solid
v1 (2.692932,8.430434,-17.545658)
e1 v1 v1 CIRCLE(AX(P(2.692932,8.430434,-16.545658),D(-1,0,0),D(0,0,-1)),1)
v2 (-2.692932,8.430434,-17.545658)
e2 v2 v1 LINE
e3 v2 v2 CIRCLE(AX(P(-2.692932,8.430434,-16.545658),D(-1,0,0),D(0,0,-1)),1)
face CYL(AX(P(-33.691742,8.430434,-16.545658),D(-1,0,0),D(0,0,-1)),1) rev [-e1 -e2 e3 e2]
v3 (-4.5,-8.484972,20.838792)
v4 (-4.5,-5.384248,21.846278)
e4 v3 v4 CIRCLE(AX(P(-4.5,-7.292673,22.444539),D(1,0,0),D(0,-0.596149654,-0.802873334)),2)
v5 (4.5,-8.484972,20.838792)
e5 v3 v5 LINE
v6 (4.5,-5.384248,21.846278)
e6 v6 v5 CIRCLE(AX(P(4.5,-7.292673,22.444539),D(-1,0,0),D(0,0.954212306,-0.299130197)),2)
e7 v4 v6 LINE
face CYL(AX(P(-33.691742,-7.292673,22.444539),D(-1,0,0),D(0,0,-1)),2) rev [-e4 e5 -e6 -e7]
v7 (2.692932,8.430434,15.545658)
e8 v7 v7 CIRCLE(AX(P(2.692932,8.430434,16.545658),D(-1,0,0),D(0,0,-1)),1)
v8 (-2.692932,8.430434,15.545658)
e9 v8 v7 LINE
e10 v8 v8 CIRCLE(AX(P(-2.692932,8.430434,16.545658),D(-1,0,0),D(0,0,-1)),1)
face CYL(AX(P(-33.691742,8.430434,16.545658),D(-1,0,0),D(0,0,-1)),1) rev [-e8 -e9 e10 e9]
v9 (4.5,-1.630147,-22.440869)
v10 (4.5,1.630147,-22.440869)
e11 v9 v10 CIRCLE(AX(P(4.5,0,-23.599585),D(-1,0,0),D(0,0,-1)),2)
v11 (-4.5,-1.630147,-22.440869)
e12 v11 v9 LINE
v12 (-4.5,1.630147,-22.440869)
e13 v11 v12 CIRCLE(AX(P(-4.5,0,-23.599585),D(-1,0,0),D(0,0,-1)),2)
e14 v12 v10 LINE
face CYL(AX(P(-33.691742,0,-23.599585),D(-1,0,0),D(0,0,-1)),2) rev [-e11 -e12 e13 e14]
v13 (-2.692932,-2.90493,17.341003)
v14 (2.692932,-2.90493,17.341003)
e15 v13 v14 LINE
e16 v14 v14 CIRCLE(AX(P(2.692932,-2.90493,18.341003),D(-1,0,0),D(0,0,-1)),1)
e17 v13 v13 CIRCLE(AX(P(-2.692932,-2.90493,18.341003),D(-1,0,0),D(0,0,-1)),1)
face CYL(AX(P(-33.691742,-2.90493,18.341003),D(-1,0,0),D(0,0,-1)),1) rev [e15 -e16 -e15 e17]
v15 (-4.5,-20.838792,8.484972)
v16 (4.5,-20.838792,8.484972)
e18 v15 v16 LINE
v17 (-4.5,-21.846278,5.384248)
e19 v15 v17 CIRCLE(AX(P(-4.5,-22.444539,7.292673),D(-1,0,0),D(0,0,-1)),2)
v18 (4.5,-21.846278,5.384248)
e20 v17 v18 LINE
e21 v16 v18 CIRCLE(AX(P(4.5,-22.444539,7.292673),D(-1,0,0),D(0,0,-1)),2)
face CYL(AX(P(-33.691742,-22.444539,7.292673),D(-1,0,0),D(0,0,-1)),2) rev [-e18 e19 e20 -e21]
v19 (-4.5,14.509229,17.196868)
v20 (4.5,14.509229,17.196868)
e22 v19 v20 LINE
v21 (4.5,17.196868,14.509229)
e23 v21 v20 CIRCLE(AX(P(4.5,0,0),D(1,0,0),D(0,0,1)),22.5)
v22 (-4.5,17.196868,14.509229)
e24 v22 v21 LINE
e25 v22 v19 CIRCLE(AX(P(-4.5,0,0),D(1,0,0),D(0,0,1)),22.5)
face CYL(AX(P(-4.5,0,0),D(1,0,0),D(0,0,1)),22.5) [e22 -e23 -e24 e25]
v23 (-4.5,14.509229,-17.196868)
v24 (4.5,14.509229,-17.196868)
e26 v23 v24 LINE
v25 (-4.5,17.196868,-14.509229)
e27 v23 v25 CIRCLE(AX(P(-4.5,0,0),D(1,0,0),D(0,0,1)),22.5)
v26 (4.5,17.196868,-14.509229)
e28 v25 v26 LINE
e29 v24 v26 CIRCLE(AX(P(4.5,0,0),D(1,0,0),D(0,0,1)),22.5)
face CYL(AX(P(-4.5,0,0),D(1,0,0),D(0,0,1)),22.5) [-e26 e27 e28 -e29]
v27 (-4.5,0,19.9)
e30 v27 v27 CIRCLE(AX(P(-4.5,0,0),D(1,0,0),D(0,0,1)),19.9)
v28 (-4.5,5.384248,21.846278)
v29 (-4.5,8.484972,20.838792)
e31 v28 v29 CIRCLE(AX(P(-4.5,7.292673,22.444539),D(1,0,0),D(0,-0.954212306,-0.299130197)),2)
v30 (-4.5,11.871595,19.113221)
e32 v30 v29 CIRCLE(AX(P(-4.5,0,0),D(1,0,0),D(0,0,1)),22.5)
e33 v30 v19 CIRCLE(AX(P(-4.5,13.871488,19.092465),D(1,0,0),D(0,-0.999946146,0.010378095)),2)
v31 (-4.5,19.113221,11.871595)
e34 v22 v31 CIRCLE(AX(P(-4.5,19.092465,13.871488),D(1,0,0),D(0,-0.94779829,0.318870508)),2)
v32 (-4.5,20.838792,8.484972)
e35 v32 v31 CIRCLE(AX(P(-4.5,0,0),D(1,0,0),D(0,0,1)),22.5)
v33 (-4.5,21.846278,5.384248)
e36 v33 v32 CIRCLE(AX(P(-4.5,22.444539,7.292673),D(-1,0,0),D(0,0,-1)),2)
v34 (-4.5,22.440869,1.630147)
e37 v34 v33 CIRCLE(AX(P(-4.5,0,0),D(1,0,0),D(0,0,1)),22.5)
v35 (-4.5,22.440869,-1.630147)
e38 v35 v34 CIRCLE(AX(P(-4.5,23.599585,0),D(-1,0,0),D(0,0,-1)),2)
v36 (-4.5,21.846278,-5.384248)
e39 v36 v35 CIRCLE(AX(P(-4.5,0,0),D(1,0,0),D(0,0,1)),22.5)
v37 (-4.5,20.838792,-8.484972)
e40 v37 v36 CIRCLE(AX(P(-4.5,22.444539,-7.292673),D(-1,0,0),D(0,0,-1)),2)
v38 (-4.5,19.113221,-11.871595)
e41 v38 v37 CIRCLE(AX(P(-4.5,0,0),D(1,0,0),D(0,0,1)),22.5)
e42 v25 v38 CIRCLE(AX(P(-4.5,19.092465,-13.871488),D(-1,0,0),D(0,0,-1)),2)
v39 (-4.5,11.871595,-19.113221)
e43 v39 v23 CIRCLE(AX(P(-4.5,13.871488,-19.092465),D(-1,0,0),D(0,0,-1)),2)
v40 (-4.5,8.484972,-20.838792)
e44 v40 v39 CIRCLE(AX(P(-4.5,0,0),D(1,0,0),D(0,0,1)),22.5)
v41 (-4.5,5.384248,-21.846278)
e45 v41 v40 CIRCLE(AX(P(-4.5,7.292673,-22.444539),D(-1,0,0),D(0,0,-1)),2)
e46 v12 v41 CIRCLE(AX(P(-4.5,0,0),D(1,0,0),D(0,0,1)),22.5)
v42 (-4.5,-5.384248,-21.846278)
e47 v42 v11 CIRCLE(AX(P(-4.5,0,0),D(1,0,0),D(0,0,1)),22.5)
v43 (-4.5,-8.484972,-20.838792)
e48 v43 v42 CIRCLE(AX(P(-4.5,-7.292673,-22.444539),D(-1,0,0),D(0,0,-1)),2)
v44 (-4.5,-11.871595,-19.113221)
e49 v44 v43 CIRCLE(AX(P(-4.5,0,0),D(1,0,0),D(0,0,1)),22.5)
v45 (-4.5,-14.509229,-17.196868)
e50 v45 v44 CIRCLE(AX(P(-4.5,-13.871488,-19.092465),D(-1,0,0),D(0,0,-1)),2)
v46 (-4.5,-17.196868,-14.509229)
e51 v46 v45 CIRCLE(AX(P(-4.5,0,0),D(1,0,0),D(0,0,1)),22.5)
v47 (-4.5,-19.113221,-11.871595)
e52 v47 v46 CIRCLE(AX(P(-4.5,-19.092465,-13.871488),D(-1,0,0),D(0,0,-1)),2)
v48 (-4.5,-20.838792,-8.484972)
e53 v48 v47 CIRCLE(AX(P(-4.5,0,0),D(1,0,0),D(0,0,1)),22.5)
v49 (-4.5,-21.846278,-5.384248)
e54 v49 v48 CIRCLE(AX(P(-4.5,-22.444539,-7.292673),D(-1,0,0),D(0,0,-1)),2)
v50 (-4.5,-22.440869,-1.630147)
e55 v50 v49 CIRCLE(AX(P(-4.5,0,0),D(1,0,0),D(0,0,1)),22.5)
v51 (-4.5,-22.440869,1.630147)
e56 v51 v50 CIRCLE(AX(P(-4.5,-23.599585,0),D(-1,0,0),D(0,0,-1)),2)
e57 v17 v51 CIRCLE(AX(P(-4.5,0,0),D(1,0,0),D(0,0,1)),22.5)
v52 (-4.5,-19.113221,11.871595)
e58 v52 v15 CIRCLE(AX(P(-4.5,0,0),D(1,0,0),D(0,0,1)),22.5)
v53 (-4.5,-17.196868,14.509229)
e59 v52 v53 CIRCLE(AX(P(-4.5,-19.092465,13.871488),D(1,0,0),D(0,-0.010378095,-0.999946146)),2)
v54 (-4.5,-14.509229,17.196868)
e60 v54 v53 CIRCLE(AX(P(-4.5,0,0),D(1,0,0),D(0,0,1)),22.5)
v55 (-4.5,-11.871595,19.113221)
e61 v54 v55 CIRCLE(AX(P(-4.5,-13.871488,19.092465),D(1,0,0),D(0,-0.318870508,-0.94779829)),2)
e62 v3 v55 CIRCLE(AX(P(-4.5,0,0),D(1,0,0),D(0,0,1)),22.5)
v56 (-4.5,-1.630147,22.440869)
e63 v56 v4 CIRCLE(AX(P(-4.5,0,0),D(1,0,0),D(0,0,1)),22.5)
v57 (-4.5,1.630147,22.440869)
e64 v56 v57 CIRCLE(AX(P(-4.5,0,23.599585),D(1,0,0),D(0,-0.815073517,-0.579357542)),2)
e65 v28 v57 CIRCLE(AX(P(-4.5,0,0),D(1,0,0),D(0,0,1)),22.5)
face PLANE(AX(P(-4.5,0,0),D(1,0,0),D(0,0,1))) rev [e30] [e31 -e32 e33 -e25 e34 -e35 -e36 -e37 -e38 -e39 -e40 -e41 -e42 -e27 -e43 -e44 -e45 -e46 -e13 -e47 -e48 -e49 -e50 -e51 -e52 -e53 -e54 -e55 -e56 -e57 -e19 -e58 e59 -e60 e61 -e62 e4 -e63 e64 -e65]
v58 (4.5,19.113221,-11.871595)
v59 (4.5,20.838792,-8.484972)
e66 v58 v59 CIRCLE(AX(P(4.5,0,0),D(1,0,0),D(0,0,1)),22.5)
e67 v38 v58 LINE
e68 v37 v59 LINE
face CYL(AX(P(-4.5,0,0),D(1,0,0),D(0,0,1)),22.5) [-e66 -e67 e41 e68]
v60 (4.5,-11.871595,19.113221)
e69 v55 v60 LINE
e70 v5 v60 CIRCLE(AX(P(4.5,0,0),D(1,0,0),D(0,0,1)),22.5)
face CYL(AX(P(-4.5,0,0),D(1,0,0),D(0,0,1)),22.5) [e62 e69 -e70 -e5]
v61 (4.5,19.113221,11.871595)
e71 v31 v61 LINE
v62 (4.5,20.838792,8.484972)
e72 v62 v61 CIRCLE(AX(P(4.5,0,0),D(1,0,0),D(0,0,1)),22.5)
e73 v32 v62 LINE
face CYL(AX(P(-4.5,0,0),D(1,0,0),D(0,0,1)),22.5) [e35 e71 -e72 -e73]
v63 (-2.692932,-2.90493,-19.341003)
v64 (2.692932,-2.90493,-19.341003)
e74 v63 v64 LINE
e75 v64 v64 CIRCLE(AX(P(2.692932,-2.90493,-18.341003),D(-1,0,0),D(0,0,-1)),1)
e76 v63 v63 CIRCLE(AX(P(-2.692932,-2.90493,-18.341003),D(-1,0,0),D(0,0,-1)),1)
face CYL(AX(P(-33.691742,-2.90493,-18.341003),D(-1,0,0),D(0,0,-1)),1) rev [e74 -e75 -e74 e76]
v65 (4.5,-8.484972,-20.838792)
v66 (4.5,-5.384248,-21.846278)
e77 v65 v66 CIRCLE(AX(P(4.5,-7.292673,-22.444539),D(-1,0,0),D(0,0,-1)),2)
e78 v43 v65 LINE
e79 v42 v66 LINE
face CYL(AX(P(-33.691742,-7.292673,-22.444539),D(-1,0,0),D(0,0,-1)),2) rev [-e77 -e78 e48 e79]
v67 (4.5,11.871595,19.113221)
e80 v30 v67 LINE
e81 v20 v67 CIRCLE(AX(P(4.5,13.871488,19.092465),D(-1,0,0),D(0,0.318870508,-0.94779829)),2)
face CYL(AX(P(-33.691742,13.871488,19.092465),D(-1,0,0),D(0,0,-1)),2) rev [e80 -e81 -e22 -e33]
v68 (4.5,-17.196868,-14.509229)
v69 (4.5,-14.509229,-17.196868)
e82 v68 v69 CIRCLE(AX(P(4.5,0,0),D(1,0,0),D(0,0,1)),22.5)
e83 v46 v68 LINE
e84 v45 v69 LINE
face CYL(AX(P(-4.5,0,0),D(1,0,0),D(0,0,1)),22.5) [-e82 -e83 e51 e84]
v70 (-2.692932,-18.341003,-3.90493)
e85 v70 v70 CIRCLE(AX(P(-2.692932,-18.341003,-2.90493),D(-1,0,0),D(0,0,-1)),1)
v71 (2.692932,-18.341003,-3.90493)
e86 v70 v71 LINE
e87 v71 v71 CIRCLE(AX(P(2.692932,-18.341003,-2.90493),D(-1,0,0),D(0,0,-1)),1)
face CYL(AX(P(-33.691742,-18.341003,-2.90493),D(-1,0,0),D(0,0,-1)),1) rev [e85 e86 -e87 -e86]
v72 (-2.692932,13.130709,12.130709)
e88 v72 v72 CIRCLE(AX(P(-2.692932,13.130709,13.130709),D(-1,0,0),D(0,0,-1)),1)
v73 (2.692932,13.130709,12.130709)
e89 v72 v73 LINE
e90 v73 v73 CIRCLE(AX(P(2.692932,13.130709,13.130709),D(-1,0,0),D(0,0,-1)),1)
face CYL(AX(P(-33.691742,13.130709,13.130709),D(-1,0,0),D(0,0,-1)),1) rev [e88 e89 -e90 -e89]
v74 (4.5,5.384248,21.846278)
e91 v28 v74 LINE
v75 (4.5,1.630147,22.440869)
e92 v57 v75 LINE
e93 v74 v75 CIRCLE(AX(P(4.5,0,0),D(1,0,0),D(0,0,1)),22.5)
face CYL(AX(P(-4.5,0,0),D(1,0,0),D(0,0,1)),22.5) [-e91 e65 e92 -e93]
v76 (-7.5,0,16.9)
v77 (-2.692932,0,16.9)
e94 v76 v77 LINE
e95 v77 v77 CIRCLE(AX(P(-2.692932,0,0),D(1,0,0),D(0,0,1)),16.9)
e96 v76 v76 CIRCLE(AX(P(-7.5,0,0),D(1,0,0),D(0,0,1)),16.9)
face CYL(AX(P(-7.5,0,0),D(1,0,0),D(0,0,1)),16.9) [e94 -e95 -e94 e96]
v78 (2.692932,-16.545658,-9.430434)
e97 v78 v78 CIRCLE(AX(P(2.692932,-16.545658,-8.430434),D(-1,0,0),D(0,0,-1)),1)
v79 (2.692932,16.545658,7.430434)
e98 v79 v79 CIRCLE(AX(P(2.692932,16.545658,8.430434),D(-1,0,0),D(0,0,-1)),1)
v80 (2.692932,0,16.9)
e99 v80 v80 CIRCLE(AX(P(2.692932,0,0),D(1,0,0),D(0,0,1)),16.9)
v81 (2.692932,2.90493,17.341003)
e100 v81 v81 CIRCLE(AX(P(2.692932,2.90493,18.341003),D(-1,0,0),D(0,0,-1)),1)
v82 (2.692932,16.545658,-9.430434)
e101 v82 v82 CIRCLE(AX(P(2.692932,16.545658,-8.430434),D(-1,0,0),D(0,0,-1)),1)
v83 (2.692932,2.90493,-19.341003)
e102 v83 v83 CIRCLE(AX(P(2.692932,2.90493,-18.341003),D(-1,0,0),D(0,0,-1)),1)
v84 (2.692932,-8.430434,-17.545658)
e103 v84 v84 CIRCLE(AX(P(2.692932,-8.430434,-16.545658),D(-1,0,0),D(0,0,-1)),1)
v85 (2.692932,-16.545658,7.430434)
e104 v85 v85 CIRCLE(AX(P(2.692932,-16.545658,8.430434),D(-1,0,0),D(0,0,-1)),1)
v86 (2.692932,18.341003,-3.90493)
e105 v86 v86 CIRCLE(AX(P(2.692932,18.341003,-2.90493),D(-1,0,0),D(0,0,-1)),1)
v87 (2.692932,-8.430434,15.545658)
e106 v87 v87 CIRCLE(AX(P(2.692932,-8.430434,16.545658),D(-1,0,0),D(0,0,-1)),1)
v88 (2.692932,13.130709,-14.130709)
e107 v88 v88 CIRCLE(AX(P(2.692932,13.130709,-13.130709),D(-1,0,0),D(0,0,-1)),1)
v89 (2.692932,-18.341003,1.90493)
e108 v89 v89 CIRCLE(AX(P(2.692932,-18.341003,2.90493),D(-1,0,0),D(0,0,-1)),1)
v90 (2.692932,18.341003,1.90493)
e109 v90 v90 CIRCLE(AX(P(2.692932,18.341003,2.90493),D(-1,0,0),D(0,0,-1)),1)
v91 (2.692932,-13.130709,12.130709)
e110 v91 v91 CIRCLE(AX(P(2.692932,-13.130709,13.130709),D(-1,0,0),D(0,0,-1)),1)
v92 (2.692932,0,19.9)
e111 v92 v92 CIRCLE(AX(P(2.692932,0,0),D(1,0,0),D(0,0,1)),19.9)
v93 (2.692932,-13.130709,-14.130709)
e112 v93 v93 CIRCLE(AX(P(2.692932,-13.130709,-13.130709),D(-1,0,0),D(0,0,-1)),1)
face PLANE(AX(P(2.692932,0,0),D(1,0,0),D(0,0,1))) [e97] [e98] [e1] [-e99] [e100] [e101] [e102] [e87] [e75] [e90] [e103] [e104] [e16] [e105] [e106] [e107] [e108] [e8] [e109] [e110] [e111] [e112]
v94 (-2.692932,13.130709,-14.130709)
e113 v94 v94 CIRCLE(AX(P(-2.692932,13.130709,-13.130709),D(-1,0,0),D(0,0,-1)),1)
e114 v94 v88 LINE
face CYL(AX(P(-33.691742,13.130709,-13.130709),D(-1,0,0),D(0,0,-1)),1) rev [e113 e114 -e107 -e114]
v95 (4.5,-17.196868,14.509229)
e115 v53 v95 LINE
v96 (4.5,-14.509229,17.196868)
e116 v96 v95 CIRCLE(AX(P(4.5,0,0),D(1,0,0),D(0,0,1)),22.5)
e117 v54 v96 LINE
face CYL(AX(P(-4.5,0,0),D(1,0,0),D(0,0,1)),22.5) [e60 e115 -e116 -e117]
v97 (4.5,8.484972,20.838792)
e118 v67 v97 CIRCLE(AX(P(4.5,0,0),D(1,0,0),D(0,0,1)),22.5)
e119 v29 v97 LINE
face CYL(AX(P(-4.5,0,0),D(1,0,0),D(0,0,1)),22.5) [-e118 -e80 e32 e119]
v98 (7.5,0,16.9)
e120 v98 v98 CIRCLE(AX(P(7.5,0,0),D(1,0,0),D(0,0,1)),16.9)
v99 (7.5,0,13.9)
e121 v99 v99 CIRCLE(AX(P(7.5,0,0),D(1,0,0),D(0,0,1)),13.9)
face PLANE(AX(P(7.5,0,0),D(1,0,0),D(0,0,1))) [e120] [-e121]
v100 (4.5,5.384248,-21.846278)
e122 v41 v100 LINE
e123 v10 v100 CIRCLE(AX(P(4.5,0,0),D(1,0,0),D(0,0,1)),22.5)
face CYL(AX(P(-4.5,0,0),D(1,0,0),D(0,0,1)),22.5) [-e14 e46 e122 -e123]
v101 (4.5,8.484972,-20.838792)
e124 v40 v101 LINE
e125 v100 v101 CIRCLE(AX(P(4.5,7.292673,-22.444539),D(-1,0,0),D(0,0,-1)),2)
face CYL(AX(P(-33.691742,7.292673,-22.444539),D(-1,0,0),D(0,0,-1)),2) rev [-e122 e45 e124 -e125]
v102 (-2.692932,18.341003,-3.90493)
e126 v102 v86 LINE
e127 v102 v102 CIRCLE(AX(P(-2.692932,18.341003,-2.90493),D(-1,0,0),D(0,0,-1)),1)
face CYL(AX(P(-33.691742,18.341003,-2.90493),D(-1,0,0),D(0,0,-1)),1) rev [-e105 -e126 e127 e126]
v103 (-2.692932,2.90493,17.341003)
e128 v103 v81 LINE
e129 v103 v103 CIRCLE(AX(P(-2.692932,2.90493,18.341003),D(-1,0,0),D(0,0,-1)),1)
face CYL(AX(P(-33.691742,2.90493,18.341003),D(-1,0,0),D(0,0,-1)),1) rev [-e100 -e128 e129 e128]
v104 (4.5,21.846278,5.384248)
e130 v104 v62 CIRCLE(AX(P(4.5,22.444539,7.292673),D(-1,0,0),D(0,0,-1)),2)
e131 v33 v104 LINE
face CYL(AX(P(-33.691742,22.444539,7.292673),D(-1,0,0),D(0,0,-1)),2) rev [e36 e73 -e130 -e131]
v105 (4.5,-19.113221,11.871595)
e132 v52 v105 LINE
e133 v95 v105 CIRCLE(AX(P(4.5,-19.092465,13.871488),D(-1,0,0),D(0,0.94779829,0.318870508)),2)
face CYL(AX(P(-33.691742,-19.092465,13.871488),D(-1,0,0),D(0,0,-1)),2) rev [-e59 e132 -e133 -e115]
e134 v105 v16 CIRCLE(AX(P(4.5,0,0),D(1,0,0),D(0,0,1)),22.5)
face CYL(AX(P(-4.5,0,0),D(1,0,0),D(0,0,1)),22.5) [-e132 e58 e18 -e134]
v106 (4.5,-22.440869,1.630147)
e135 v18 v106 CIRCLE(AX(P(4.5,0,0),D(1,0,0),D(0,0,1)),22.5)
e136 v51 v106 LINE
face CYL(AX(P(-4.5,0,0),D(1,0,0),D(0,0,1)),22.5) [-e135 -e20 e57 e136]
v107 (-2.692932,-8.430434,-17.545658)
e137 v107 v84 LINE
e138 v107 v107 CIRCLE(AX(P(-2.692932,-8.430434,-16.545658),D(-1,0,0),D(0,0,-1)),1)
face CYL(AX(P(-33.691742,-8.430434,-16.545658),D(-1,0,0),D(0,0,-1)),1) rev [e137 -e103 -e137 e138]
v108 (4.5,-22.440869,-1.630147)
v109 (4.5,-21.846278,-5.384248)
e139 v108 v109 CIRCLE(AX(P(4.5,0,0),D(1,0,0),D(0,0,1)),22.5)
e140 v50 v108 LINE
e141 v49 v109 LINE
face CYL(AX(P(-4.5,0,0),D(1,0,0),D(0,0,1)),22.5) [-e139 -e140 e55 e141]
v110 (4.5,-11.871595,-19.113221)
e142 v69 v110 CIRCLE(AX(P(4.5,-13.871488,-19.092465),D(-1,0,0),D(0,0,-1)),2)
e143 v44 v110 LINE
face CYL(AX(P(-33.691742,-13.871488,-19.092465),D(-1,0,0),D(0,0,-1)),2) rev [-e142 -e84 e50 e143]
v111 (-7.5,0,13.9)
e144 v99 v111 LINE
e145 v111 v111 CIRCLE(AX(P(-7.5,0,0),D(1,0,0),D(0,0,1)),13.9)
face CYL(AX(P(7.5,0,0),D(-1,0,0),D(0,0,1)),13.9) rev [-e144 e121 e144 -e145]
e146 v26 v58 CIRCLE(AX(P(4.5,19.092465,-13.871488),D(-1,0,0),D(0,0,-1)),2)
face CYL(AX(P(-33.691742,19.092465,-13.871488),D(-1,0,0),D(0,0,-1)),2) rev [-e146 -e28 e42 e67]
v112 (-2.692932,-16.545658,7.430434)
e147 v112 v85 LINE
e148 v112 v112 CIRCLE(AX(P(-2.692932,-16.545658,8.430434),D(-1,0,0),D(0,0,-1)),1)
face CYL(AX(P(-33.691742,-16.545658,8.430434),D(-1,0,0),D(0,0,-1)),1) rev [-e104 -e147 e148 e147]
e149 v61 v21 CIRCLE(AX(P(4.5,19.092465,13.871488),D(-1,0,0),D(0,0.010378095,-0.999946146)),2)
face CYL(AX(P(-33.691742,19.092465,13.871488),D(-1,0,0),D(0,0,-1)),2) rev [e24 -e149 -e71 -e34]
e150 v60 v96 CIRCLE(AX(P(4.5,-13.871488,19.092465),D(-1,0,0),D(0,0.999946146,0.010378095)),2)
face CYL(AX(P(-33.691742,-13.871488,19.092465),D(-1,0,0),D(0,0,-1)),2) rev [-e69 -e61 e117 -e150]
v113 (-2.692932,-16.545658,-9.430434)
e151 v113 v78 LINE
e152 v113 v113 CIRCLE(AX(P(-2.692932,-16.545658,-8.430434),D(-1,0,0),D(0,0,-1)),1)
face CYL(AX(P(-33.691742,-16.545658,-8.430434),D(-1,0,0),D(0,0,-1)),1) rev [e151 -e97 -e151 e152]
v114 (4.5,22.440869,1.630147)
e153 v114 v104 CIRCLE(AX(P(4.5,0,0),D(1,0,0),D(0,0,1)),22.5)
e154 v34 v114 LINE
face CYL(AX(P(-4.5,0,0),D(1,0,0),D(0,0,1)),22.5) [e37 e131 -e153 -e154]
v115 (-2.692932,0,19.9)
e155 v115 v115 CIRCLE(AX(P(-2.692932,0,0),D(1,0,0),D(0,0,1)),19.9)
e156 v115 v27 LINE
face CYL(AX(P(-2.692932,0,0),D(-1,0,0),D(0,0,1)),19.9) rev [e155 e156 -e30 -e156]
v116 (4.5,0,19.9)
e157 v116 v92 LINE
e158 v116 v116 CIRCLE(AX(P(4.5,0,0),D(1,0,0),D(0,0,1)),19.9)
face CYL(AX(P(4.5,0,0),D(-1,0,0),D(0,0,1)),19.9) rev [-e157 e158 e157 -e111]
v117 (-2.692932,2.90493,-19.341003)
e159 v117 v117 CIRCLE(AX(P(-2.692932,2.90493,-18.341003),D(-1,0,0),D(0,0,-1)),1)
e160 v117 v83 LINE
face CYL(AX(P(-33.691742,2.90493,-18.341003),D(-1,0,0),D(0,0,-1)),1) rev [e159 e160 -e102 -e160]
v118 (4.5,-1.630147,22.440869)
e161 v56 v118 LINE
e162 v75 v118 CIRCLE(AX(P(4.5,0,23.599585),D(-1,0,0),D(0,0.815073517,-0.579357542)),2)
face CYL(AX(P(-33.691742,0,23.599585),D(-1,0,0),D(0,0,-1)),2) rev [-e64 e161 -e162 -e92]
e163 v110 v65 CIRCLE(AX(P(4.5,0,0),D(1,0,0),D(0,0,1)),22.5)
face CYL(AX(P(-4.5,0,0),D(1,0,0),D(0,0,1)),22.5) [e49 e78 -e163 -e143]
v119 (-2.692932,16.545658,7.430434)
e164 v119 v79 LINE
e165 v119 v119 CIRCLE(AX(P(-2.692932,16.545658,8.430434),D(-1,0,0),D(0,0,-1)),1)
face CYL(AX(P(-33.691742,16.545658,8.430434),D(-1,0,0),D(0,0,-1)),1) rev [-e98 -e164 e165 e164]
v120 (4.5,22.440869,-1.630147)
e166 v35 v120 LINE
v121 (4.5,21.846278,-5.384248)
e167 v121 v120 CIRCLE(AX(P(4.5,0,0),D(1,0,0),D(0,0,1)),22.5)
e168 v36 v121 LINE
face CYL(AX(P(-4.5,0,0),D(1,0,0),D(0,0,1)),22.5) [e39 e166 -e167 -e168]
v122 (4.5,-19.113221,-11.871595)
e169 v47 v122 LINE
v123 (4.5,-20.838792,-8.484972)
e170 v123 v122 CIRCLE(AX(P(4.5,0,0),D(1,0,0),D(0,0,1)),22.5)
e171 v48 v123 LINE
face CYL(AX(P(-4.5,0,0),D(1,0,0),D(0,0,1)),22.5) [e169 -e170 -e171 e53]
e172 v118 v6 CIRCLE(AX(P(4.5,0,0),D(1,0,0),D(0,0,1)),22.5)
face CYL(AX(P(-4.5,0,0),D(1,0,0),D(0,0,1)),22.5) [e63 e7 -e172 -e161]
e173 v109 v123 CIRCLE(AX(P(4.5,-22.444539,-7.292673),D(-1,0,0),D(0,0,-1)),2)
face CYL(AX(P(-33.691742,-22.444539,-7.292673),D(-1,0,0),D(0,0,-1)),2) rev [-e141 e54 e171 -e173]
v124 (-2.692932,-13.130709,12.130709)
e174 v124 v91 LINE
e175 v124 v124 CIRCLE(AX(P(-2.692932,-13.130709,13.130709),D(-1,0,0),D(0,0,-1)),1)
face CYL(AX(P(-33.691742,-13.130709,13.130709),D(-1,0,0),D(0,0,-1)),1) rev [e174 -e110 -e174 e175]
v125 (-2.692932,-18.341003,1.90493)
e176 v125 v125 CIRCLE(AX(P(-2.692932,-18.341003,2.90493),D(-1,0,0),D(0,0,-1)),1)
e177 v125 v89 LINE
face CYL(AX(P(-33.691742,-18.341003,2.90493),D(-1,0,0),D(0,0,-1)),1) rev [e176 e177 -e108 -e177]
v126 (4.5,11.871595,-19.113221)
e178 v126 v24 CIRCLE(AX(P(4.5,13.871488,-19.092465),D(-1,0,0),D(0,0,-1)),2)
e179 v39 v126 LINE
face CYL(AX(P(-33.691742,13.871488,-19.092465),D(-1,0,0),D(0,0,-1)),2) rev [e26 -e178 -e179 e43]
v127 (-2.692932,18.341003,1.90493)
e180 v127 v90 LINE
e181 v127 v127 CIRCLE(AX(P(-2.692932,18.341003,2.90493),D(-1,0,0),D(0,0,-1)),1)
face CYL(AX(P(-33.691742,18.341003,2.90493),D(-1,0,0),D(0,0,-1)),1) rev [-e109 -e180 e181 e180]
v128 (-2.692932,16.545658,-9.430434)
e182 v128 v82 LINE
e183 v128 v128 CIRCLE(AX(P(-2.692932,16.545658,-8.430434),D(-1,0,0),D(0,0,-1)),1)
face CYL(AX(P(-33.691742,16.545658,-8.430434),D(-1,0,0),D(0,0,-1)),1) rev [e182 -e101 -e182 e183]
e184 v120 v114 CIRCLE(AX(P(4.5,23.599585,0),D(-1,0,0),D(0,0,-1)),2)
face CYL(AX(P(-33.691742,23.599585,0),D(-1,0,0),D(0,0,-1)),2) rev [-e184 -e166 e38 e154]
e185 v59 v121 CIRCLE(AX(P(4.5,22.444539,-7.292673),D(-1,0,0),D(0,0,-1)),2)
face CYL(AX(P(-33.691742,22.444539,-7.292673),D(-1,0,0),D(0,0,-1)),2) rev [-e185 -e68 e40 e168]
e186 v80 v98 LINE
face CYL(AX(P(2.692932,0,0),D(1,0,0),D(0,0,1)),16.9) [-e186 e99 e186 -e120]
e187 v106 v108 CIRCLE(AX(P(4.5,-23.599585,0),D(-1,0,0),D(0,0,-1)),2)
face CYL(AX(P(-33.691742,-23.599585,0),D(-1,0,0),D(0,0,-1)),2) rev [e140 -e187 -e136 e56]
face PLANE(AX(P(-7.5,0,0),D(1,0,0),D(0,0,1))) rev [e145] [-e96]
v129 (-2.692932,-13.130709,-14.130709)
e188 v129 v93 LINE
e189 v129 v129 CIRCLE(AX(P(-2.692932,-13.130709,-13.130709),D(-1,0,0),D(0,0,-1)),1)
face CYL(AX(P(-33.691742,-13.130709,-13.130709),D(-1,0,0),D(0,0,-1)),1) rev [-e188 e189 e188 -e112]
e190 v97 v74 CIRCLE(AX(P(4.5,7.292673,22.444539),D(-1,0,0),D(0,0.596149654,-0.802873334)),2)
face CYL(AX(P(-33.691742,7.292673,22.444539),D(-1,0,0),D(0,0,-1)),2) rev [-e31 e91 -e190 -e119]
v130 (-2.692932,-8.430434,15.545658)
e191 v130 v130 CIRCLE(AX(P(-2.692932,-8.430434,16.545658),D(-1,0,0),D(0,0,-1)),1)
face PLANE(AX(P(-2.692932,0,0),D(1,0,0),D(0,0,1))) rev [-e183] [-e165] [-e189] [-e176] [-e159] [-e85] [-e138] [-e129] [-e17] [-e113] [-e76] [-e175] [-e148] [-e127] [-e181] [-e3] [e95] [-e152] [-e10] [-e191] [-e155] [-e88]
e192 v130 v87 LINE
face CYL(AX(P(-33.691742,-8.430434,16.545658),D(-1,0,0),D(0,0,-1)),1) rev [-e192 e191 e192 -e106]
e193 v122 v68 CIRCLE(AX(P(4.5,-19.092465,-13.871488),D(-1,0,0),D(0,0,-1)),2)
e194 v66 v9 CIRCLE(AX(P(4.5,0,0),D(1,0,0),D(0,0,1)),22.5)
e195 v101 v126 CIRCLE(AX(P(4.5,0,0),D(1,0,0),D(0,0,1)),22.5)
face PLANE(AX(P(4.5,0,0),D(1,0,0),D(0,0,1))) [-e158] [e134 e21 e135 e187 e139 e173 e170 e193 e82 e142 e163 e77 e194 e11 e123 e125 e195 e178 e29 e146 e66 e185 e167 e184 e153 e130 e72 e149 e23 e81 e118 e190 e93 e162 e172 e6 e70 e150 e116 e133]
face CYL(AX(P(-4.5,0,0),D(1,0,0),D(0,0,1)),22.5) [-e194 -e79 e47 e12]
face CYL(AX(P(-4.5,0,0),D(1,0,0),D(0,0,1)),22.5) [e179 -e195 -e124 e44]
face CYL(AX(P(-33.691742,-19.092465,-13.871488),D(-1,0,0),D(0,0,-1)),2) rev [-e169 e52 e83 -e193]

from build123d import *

# Parameters (mm, degrees)
CUT_EXTRUDE1_DEPTH      = 33.691742077
CUT_EXTRUDE1_DEPTH_BACK = 33.691742077
SKETCH3_R               = 2
SKETCH3_R_2             = 1


with BuildPart() as part:
    # Sketch2 → Revolve1 (revolve)
    with BuildSketch(Plane.XY, mode=Mode.PRIVATE) as revolve1_sk:
        Polygon((7.5, 13.9), (-7.5, 13.9), (-7.5, 16.9), (-2.692932377, 16.9), (-2.692932377, 19.9), (-4.5, 19.9), (-4.5, 22.5), (4.5, 22.5), (4.5, 19.9), (2.692932377, 19.9), (2.692932377, 16.9), (7.5, 16.9), align=None)
    revolve(revolve1_sk.sketch.rotate(Axis((-32.720414201, 0, 0), (1, 0, 0)), 90), axis=Axis((-32.720414201, 0, 0), (1, 0, 0)))

    # Sketch3 → Cut-Extrude1 (cut, two sides: drawn at the far end of the back side and taken through both)
    with BuildSketch(Plane(origin=(0, 0, 0), x_dir=(0, 0, -1), z_dir=(1, 0, 0)).offset(-CUT_EXTRUDE1_DEPTH_BACK)):
        with Locations((7.292672674, 22.444538631)):
            Circle(SKETCH3_R)
        with Locations((-2.904929565, 18.34100344)):
            Circle(SKETCH3_R_2)
        with Locations((13.871487736, 19.09246493)):
            Circle(SKETCH3_R)
        with Locations((19.09246493, 13.871487736)):
            Circle(SKETCH3_R)
        with Locations((22.444538631, 7.292672674)):
            Circle(SKETCH3_R)
        with Locations((23.599584511, 0)):
            Circle(SKETCH3_R)
        with Locations((22.444538631, -7.292672674)):
            Circle(SKETCH3_R)
        with Locations((19.09246493, -13.871487736)):
            Circle(SKETCH3_R)
        with Locations((13.871487736, -19.09246493)):
            Circle(SKETCH3_R)
        with Locations((7.292672674, -22.444538631)):
            Circle(SKETCH3_R)
        with Locations((0, -23.599584511)):
            Circle(SKETCH3_R)
        with Locations((-7.292672674, -22.444538631)):
            Circle(SKETCH3_R)
        with Locations((-13.871487736, -19.09246493)):
            Circle(SKETCH3_R)
        with Locations((-19.09246493, -13.871487736)):
            Circle(SKETCH3_R)
        with Locations((-22.444538631, -7.292672674)):
            Circle(SKETCH3_R)
        with Locations((-23.599584511, 0)):
            Circle(SKETCH3_R)
        with Locations((-22.444538631, 7.292672674)):
            Circle(SKETCH3_R)
        with Locations((-19.09246493, 13.871487736)):
            Circle(SKETCH3_R)
        with Locations((-13.871487736, 19.09246493)):
            Circle(SKETCH3_R)
        with Locations((-7.292672674, 22.444538631)):
            Circle(SKETCH3_R)
        with Locations((0, 23.599584511)):
            Circle(SKETCH3_R)
        with Locations((2.904929565, 18.34100344)):
            Circle(SKETCH3_R_2)
        with Locations((8.430433949, 16.545658234)):
            Circle(SKETCH3_R_2)
        with Locations((13.13070872, 13.13070872)):
            Circle(SKETCH3_R_2)
        with Locations((16.545658234, 8.430433949)):
            Circle(SKETCH3_R_2)
        with Locations((18.34100344, 2.904929565)):
            Circle(SKETCH3_R_2)
        with Locations((18.34100344, -2.904929565)):
            Circle(SKETCH3_R_2)
        with Locations((16.545658234, -8.430433949)):
            Circle(SKETCH3_R_2)
        with Locations((13.13070872, -13.13070872)):
            Circle(SKETCH3_R_2)
        with Locations((8.430433949, -16.545658234)):
            Circle(SKETCH3_R_2)
        with Locations((2.904929565, -18.34100344)):
            Circle(SKETCH3_R_2)
        with Locations((-2.904929565, -18.34100344)):
            Circle(SKETCH3_R_2)
        with Locations((-8.430433949, -16.545658234)):
            Circle(SKETCH3_R_2)
        with Locations((-13.13070872, -13.13070872)):
            Circle(SKETCH3_R_2)
        with Locations((-16.545658234, -8.430433949)):
            Circle(SKETCH3_R_2)
        with Locations((-18.34100344, -2.904929565)):
            Circle(SKETCH3_R_2)
        with Locations((-18.34100344, 2.904929565)):
            Circle(SKETCH3_R_2)
        with Locations((-16.545658234, 8.430433949)):
            Circle(SKETCH3_R_2)
        with Locations((-13.13070872, 13.13070872)):
            Circle(SKETCH3_R_2)
        with Locations((-8.430433949, 16.545658234)):
            Circle(SKETCH3_R_2)
    extrude(amount=CUT_EXTRUDE1_DEPTH + CUT_EXTRUDE1_DEPTH_BACK, mode=Mode.SUBTRACT)


solid = part.part
